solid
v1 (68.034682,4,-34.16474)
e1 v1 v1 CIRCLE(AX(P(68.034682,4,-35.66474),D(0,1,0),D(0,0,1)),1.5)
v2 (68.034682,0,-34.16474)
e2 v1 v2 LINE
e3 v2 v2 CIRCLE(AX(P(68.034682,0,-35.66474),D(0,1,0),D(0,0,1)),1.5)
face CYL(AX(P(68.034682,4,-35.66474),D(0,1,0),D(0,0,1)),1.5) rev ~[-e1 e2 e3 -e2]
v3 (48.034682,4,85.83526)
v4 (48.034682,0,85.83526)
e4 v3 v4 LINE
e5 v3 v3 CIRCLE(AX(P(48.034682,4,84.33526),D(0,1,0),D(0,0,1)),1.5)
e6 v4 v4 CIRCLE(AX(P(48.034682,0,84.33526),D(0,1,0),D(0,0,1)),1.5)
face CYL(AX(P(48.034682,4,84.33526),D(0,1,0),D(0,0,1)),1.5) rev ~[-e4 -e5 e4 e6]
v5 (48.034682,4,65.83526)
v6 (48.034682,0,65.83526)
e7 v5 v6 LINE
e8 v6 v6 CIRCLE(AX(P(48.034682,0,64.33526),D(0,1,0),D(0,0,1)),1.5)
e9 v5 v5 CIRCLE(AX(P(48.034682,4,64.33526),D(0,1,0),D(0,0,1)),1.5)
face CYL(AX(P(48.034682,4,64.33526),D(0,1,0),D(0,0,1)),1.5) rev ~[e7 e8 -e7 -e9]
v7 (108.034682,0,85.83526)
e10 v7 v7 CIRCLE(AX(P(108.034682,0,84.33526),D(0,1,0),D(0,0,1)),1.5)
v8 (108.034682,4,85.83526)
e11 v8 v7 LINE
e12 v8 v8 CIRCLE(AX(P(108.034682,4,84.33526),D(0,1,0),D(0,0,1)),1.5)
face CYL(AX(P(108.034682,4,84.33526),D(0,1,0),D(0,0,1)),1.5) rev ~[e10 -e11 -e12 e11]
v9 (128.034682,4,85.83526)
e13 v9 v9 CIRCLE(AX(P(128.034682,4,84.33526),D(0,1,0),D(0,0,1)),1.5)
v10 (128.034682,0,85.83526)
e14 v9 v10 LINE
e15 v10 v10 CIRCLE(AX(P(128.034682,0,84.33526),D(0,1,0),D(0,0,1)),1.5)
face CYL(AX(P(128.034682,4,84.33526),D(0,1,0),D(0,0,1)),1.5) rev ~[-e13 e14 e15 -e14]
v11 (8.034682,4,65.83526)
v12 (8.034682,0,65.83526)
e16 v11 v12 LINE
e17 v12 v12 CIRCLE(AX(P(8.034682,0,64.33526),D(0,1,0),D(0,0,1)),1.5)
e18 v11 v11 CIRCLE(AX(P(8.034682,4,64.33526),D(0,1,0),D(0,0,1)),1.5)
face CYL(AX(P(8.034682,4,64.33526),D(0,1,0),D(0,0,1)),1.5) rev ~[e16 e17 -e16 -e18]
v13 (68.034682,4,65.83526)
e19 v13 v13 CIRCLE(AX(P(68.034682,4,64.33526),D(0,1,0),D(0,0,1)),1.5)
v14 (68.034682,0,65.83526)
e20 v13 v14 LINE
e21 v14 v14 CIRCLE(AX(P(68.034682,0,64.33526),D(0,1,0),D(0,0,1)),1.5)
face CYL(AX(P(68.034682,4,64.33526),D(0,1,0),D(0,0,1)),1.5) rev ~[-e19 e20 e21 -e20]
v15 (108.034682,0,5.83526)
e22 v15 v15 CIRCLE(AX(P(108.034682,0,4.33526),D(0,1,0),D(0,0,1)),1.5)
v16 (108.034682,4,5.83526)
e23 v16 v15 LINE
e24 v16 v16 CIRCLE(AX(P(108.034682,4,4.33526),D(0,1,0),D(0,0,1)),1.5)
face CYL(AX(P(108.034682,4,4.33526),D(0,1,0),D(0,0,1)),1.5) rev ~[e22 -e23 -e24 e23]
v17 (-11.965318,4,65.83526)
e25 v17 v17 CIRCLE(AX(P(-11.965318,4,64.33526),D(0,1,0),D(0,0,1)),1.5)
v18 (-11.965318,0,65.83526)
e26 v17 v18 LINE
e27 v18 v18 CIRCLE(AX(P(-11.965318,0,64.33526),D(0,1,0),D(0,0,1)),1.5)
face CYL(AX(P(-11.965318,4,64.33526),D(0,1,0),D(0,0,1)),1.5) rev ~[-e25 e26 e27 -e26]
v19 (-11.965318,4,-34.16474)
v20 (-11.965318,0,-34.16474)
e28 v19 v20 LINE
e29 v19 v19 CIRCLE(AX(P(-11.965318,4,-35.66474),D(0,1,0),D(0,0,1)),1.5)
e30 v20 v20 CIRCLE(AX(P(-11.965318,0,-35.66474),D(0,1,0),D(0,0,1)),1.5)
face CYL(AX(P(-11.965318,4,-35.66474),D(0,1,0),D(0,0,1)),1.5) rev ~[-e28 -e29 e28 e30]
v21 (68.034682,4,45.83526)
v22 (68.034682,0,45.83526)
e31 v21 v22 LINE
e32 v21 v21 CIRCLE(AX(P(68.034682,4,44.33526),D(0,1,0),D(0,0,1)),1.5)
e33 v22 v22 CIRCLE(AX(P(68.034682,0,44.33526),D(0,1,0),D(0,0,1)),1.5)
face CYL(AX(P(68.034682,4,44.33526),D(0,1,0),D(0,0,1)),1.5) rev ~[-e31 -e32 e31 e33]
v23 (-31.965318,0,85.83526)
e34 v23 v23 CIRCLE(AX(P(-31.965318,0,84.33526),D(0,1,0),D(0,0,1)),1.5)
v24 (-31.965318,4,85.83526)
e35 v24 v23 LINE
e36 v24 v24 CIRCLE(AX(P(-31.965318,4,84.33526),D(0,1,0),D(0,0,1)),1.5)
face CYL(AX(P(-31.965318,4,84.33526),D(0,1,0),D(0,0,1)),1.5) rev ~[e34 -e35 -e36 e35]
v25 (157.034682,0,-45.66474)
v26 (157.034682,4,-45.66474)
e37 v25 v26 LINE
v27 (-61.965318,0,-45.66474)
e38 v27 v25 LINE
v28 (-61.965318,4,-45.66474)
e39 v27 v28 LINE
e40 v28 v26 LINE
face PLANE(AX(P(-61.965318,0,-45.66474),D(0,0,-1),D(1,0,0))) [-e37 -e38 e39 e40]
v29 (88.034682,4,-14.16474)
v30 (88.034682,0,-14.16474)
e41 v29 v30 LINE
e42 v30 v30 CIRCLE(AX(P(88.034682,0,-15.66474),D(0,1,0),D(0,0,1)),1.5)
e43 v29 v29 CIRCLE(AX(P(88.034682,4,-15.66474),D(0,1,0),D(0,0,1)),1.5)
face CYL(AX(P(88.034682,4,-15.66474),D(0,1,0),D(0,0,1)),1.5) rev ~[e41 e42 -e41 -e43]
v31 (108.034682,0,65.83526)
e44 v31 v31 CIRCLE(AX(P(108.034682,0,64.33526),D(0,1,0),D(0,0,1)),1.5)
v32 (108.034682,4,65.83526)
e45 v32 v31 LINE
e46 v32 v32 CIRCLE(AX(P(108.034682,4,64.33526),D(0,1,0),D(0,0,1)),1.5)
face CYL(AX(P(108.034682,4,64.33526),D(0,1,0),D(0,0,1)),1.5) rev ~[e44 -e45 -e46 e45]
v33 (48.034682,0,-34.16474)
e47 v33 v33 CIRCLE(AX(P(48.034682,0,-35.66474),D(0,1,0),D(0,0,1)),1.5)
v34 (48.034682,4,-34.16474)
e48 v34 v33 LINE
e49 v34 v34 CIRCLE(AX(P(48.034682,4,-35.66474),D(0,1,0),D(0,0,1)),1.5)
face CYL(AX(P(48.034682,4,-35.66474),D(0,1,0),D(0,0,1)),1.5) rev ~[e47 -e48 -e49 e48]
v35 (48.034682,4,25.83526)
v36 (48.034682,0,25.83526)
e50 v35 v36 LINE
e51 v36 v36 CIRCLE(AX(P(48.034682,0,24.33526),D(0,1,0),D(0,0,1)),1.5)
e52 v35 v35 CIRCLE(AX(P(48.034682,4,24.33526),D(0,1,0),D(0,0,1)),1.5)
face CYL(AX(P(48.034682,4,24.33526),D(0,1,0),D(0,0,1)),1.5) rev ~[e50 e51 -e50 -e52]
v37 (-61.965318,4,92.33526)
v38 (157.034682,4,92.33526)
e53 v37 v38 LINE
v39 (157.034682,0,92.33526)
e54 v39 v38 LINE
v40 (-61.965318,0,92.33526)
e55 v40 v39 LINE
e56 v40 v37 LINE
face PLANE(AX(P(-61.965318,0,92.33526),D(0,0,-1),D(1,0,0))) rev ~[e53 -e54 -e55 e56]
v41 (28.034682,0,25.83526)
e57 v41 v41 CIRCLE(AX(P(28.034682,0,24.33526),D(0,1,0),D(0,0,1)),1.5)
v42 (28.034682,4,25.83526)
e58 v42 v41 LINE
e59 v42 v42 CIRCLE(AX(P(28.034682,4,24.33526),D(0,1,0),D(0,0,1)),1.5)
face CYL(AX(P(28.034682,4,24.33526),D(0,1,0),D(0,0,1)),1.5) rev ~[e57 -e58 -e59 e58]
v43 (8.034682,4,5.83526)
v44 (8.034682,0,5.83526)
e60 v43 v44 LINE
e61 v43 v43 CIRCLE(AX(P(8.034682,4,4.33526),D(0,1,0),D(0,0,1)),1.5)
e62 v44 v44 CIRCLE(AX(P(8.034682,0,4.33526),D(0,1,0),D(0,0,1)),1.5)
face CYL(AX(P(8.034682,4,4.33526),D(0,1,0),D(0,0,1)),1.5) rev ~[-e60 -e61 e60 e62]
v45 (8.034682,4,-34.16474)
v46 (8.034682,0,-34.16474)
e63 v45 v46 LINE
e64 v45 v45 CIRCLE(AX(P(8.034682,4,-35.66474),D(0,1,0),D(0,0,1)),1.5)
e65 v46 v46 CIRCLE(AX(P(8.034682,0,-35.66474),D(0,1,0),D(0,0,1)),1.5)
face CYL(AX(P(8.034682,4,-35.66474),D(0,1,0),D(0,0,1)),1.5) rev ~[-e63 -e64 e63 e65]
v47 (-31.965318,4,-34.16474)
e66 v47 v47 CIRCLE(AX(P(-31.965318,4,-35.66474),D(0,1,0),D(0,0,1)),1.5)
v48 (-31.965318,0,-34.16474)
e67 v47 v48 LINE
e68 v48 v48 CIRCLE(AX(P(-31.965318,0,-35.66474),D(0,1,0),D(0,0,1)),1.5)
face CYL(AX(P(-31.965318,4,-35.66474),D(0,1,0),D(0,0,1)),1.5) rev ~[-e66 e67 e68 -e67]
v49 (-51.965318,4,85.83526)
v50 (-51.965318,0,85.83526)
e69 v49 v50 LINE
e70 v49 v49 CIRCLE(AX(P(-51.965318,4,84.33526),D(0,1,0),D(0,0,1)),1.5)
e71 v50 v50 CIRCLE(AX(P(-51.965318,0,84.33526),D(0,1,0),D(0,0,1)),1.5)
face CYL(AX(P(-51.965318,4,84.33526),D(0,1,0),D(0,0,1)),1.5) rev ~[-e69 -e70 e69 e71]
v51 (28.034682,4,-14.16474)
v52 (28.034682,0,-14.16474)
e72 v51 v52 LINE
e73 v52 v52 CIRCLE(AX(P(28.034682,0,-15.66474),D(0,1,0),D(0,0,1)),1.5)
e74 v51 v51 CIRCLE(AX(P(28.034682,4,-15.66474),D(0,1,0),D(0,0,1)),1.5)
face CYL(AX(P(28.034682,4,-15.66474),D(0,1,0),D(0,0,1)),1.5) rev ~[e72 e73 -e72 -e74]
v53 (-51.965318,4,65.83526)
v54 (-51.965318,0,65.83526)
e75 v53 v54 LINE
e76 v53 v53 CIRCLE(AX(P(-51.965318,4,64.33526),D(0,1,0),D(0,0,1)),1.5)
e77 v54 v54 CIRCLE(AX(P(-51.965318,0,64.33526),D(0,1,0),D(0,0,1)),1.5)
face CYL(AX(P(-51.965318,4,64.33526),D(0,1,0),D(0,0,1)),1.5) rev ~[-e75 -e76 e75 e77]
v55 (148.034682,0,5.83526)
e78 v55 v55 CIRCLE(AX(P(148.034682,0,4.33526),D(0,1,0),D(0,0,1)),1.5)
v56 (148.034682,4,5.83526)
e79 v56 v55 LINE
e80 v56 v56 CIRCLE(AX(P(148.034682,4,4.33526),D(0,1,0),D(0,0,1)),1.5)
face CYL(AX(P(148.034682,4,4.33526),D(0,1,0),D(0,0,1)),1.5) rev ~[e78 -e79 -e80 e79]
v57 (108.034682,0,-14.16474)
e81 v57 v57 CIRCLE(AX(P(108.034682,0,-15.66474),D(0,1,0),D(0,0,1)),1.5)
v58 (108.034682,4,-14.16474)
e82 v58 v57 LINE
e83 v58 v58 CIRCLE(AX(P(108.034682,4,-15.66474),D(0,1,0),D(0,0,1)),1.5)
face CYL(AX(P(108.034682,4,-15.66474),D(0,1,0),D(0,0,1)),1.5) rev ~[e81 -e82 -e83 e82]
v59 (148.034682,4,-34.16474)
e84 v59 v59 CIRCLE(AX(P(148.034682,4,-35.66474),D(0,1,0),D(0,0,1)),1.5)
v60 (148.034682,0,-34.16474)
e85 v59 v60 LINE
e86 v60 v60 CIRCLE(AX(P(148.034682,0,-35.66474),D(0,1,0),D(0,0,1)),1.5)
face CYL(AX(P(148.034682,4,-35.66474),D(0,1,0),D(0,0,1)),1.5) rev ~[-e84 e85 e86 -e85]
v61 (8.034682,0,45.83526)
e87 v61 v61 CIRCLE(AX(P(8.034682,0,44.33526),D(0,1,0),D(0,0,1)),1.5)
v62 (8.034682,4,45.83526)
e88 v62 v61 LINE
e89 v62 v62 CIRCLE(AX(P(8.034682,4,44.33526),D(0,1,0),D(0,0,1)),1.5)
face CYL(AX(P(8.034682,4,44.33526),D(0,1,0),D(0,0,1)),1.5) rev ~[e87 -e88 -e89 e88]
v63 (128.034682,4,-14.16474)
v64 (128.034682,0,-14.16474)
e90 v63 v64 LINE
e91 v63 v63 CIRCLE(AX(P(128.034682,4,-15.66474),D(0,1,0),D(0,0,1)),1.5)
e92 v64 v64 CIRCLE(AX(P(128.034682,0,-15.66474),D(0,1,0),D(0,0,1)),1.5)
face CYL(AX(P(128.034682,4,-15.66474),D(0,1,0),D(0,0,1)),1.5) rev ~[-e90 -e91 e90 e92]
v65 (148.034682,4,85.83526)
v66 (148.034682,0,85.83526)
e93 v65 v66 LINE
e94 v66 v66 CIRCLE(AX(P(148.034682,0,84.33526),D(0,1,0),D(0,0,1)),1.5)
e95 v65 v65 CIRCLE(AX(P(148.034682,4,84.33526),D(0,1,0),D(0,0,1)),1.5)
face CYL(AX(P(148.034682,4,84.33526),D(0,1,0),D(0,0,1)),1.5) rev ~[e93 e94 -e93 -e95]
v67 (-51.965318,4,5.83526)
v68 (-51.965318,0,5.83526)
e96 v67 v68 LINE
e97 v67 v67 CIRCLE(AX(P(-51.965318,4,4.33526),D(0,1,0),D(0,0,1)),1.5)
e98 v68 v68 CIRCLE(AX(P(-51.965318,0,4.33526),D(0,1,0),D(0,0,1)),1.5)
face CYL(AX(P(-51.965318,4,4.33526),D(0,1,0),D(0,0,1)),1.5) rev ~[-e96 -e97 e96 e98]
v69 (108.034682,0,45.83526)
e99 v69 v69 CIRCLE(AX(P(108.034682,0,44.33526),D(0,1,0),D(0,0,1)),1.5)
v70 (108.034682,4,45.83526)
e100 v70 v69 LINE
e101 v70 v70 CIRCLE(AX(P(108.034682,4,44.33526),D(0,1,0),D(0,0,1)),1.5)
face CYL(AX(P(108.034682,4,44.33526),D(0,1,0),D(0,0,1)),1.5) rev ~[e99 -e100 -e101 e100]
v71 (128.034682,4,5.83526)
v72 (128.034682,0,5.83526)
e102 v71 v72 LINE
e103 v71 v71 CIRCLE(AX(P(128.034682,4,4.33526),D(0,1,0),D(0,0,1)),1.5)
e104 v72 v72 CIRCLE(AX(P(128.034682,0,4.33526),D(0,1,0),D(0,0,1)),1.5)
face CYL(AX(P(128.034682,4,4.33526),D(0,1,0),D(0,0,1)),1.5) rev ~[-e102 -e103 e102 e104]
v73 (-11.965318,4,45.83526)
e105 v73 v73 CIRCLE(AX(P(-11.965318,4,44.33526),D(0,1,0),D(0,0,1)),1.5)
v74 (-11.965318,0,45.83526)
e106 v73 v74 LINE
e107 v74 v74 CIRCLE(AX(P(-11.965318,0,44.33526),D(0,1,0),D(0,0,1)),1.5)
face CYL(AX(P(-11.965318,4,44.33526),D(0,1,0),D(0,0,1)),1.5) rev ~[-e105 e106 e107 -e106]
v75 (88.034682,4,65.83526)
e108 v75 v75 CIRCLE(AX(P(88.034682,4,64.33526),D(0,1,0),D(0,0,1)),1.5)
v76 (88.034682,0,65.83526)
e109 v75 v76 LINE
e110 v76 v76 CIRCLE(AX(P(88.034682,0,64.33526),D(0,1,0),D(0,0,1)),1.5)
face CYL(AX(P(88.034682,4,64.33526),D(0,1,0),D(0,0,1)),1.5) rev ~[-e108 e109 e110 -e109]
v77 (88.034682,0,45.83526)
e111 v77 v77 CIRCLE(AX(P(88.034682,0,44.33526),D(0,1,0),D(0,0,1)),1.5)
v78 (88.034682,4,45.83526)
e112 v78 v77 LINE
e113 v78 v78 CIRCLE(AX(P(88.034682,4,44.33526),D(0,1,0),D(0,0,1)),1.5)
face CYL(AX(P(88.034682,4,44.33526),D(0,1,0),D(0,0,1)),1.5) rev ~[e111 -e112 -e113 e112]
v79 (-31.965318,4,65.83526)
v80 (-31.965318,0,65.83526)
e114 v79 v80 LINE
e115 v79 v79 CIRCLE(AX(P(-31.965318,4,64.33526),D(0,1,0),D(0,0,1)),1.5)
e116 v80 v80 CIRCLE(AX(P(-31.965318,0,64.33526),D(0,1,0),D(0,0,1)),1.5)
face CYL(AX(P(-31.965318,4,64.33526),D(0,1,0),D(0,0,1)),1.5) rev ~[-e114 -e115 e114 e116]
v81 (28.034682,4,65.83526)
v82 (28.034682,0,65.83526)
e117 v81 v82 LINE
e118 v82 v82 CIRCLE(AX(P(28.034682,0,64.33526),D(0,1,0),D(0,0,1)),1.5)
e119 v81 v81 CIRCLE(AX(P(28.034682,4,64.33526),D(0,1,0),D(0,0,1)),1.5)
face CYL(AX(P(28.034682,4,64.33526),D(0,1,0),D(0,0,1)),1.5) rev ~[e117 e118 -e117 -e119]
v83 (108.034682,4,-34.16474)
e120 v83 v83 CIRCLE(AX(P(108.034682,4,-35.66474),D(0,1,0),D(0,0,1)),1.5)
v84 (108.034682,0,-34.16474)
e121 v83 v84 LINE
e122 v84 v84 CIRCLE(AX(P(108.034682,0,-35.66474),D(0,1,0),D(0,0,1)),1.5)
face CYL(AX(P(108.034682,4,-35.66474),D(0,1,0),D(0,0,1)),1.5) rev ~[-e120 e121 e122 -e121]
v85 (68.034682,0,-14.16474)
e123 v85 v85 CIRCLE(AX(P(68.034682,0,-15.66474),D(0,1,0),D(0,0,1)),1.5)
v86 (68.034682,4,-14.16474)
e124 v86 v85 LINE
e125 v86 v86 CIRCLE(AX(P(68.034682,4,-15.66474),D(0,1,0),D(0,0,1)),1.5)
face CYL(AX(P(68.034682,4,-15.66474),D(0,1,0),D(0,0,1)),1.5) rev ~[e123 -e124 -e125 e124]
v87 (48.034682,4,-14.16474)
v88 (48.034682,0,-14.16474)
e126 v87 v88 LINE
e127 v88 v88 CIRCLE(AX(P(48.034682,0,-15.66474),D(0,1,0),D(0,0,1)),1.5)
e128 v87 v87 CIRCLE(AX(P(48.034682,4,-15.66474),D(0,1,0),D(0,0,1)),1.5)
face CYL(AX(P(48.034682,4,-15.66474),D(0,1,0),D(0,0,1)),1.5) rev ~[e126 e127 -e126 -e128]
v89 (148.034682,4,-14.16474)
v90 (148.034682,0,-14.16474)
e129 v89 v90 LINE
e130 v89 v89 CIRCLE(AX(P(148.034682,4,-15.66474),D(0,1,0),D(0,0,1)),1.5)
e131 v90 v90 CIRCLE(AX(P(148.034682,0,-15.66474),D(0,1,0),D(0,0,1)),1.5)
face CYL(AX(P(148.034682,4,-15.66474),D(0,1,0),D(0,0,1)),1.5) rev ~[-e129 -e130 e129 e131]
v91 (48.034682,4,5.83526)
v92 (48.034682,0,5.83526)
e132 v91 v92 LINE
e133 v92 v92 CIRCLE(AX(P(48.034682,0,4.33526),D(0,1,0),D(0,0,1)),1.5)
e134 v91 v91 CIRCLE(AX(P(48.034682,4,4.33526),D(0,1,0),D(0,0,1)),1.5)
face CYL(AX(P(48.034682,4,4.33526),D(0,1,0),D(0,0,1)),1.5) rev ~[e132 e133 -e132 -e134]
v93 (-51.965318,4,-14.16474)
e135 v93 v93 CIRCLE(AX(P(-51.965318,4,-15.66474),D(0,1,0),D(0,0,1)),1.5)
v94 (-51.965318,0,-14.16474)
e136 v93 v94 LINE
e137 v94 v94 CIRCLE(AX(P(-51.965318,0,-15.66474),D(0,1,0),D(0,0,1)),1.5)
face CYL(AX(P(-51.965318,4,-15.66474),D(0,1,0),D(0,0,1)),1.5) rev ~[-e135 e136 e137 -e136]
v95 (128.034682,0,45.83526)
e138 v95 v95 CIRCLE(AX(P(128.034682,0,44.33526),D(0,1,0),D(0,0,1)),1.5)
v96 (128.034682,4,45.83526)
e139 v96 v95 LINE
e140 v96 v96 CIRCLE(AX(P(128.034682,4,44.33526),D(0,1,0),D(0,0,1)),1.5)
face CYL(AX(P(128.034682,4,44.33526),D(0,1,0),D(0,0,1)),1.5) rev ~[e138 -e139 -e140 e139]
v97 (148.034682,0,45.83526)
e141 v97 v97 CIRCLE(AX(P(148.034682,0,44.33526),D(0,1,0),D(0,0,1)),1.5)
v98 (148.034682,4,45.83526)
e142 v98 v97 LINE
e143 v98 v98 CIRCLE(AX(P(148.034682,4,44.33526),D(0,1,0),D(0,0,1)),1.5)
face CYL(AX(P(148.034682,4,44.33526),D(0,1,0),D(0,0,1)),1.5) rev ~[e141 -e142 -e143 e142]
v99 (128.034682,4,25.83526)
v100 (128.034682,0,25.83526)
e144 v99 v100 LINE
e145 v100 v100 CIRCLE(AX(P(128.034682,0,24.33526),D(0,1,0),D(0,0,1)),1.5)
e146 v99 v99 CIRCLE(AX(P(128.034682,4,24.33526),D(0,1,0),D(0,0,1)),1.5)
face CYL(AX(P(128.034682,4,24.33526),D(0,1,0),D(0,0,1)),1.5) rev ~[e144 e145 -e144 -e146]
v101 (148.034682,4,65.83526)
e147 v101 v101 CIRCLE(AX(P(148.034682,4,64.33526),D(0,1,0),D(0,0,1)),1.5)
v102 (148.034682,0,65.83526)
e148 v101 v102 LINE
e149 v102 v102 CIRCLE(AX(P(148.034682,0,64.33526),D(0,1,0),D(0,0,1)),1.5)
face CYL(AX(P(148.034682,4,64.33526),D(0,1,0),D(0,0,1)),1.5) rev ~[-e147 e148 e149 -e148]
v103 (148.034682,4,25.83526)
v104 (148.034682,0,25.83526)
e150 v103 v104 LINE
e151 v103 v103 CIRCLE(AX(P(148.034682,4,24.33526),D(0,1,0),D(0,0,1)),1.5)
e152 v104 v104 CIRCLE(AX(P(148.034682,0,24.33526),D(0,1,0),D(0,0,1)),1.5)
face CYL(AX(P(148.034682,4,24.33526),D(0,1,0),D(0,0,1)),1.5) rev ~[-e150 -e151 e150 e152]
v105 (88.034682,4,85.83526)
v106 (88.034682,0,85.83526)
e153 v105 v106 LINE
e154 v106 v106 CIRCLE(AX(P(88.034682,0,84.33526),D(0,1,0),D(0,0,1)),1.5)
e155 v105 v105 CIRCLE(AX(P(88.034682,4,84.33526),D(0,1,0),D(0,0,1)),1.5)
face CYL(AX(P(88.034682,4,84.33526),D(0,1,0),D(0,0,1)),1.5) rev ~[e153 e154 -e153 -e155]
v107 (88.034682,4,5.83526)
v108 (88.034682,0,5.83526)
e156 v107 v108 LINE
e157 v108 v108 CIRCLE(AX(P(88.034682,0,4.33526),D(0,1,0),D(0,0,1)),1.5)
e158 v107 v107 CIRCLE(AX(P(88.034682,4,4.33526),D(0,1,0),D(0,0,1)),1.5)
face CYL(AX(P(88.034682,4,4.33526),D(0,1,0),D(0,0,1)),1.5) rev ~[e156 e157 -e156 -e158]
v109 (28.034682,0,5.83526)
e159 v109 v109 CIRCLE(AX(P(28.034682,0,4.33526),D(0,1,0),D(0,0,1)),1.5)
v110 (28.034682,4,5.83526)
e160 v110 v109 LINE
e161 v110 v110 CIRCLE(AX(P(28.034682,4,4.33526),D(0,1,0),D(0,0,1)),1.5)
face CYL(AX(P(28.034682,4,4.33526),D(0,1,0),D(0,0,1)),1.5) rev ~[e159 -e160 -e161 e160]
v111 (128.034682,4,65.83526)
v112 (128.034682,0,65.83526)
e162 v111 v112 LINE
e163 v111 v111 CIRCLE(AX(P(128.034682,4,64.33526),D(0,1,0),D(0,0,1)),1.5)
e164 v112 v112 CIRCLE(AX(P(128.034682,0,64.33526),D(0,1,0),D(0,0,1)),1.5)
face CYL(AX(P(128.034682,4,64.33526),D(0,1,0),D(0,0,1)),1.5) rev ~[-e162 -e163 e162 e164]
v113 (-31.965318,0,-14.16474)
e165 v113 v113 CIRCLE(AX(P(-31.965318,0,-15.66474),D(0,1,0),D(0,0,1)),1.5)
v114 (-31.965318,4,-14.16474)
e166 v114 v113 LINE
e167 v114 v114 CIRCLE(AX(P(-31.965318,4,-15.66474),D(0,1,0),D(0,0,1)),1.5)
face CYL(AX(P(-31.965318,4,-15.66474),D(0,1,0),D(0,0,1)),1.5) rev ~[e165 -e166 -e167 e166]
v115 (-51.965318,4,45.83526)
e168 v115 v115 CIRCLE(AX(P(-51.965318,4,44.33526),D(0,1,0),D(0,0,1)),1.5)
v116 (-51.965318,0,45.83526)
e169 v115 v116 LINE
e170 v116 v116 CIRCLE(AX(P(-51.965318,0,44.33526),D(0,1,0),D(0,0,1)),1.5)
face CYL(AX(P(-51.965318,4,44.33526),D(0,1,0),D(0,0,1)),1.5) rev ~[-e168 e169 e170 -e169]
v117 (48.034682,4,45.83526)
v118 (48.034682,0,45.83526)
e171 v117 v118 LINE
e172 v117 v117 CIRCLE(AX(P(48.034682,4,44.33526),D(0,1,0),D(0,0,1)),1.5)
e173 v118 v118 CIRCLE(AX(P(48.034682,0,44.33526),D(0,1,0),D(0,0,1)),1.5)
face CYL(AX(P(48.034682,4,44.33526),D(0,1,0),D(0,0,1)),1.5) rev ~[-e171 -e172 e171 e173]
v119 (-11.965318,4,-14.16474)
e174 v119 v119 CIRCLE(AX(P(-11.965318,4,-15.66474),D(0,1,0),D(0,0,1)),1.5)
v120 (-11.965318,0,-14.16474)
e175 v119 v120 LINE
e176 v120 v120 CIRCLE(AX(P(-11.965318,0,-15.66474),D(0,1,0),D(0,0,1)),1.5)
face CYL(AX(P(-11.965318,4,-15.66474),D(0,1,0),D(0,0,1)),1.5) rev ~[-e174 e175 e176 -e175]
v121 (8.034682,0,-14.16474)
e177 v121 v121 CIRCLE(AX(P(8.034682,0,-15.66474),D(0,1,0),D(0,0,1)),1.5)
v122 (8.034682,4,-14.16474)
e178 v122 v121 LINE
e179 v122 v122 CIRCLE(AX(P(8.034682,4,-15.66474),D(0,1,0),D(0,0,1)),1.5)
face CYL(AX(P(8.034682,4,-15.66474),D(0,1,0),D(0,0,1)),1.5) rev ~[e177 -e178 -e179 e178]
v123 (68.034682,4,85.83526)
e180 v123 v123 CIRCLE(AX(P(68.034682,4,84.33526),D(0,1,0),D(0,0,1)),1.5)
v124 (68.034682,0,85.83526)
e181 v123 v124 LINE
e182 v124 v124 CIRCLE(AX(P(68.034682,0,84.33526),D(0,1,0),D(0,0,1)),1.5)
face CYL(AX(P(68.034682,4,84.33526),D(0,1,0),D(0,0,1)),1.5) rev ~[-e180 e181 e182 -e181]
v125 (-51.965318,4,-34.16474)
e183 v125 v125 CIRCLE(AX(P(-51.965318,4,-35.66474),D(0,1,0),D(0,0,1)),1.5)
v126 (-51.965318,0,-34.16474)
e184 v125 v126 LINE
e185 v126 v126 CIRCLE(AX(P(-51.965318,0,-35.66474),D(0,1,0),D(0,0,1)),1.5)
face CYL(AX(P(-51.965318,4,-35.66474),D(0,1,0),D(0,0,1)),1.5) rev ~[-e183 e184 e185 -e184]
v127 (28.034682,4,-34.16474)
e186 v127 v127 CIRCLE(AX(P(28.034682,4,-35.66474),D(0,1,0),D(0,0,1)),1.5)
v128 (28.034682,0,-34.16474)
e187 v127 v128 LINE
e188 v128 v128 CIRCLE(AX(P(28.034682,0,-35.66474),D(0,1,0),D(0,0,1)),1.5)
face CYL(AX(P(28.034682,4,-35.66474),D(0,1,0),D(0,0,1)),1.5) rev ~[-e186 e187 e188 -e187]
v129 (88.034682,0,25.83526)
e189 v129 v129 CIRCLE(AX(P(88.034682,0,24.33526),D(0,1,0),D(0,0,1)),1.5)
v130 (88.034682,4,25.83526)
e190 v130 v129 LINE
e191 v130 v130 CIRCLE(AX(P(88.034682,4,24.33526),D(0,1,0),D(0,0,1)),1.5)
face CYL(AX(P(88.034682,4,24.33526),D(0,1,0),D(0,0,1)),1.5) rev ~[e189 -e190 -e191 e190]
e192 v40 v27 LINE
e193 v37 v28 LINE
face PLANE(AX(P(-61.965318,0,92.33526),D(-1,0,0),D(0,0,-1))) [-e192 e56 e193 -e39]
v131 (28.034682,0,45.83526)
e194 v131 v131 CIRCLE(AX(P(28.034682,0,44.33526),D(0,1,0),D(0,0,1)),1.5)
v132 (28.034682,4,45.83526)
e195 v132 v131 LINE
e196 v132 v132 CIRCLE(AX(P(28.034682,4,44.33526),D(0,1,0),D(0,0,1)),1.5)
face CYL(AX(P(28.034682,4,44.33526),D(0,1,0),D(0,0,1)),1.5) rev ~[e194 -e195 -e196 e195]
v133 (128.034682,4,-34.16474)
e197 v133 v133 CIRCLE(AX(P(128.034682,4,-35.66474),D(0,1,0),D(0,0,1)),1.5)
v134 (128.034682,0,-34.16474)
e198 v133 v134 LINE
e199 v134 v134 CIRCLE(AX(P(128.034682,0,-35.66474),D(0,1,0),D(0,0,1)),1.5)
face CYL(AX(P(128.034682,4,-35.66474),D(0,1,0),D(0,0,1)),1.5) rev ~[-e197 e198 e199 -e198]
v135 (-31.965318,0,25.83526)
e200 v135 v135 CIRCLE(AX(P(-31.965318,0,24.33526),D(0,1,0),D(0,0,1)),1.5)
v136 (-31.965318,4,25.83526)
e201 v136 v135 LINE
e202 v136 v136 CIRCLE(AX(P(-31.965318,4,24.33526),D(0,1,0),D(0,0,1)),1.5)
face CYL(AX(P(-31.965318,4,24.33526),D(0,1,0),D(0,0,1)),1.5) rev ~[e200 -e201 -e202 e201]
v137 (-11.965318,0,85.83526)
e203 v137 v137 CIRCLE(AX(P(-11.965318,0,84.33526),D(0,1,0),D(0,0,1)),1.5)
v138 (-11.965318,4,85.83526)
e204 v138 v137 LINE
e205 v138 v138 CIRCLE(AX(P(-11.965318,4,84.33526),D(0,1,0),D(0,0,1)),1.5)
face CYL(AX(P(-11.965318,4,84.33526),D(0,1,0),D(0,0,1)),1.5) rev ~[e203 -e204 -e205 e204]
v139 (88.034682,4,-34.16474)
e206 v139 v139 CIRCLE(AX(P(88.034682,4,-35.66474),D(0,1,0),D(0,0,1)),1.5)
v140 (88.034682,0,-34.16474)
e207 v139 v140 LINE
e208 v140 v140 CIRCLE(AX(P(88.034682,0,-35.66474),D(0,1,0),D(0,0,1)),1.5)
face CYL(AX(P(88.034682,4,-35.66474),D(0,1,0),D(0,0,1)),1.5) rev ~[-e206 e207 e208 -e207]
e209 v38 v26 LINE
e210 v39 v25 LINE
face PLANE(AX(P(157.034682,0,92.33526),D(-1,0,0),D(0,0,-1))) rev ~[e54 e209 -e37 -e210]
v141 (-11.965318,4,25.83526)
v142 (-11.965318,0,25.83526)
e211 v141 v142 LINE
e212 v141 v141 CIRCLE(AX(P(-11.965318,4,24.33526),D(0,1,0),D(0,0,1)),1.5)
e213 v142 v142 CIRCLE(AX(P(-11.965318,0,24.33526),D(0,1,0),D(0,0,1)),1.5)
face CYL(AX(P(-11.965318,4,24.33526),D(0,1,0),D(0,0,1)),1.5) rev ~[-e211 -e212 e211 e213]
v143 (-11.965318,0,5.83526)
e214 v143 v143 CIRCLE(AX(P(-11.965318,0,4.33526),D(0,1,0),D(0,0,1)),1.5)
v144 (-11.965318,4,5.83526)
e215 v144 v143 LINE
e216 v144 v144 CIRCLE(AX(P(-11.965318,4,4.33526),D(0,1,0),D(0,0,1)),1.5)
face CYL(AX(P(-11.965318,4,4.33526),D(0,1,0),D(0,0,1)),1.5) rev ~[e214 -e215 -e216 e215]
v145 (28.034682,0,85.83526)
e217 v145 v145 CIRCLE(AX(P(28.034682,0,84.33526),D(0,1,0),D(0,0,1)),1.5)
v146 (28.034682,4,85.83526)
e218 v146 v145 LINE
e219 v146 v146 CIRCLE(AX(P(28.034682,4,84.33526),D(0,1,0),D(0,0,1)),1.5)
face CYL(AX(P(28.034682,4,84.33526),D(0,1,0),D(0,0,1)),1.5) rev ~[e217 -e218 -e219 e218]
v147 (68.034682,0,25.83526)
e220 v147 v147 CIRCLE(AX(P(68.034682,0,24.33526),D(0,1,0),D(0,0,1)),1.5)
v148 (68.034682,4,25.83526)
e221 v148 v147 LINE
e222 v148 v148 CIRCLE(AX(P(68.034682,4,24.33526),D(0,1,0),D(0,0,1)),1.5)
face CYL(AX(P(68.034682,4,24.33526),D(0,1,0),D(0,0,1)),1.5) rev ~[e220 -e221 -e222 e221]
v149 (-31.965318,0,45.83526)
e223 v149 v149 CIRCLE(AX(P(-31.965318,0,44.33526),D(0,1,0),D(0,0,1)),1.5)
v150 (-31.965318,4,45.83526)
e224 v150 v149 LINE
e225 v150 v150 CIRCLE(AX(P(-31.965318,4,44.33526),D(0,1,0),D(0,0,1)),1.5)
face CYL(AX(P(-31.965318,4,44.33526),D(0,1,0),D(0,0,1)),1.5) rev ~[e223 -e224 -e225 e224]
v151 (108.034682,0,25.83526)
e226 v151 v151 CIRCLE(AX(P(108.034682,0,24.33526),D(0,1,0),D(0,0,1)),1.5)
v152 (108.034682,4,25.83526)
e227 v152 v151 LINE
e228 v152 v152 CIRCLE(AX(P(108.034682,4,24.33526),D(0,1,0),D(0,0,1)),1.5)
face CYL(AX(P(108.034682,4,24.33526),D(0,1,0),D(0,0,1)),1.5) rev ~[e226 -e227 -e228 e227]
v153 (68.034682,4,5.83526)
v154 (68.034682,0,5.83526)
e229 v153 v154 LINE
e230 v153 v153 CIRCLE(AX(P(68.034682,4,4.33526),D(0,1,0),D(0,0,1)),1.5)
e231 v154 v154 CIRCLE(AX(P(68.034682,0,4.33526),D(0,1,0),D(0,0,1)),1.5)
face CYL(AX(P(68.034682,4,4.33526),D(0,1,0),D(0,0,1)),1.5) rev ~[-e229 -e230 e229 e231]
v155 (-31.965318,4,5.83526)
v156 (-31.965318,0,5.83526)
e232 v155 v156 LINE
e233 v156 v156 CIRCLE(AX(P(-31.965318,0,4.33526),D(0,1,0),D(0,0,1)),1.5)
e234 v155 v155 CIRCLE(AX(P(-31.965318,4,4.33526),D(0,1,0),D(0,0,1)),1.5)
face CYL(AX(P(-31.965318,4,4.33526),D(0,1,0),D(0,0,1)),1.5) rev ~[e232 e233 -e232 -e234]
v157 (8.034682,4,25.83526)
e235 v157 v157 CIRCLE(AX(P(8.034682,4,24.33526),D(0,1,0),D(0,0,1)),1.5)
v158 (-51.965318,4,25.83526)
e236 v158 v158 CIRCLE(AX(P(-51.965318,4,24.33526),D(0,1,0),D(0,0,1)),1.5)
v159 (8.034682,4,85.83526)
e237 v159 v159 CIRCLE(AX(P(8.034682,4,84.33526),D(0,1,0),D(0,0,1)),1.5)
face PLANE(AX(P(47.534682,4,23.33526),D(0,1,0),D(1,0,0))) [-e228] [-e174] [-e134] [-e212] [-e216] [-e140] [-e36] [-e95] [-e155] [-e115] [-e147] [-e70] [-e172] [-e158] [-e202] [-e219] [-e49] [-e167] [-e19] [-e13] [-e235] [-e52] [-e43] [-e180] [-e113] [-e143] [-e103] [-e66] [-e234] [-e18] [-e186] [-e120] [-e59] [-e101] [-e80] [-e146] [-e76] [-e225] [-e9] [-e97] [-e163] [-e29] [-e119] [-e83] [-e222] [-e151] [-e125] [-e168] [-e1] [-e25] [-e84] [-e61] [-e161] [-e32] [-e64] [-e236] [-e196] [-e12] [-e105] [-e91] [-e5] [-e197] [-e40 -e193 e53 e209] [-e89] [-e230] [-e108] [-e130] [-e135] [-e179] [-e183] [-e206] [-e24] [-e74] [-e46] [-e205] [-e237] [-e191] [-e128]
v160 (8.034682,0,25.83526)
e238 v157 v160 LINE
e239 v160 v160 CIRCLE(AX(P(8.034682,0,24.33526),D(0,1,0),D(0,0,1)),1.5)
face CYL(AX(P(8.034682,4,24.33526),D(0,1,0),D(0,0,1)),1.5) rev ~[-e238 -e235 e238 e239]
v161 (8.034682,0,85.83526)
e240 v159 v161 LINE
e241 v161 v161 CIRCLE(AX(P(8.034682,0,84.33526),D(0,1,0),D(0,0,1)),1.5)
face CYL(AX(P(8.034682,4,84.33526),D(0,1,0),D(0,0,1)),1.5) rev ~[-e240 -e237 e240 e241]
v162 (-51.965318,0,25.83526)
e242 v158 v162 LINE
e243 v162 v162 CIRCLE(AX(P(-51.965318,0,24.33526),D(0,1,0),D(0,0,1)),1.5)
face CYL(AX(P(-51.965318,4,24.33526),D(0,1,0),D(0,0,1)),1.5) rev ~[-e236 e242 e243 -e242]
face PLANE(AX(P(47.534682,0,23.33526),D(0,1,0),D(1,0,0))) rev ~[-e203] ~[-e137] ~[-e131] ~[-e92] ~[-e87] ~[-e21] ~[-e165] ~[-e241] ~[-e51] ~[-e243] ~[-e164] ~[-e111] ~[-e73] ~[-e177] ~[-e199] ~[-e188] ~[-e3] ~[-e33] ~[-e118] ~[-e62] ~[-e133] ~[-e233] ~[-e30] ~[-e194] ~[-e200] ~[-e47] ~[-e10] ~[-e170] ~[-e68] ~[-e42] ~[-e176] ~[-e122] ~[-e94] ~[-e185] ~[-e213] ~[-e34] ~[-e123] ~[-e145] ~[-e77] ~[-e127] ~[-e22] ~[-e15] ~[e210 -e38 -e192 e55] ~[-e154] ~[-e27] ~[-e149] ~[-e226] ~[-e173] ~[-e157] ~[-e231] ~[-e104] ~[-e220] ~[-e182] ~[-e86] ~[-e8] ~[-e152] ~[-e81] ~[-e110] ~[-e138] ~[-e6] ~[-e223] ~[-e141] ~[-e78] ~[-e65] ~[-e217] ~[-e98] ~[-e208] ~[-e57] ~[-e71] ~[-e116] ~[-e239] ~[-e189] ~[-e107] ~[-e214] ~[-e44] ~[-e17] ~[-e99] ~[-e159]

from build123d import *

# Parameters (mm, degrees)
SKETCH1_W           = 219
SKETCH1_H           = 138
BOSS_EXTRUDE1_DEPTH = 4
SKETCH2_R           = 1.5
CUT_EXTRUDE1_DEPTH  = 5


with BuildPart() as part:
    # Sketch1 → Boss-Extrude1 (new body)
    with BuildSketch(Plane(origin=(0, 0, 0), x_dir=(1, 0, 0), z_dir=(0, 1, 0))):
        with Locations((47.534682081, -23.335260116)):
            Rectangle(SKETCH1_W, SKETCH1_H)
    extrude(amount=BOSS_EXTRUDE1_DEPTH)

    # Sketch2 → Cut-Extrude1 (cut)
    with BuildSketch(Plane(origin=(0, 4, 0), x_dir=(1, 0, 0), z_dir=(0, 1, 0))):
        with Locations(Location((-51.965317919, 35.664739884, 0), (0, 0, 270))):
            Circle(SKETCH2_R)
        with Locations(Location((-31.965317919, 35.664739884, 0), (0, 0, 270))):
            Circle(SKETCH2_R)
        with Locations(Location((-11.965317919, 35.664739884, 0), (0, 0, 270))):
            Circle(SKETCH2_R)
        with Locations(Location((8.034682081, 35.664739884, 0), (0, 0, 270))):
            Circle(SKETCH2_R)
        with Locations(Location((28.034682081, 35.664739884, 0), (0, 0, 270))):
            Circle(SKETCH2_R)
        with Locations(Location((48.034682081, 35.664739884, 0), (0, 0, 270))):
            Circle(SKETCH2_R)
        with Locations(Location((68.034682081, 35.664739884, 0), (0, 0, 270))):
            Circle(SKETCH2_R)
        with Locations(Location((88.034682081, 35.664739884, 0), (0, 0, 270))):
            Circle(SKETCH2_R)
        with Locations(Location((108.034682081, 35.664739884, 0), (0, 0, 270))):
            Circle(SKETCH2_R)
        with Locations(Location((128.034682081, 35.664739884, 0), (0, 0, 270))):
            Circle(SKETCH2_R)
        with Locations(Location((148.034682081, 35.664739884, 0), (0, 0, 270))):
            Circle(SKETCH2_R)
        with Locations(Location((-31.965317919, 15.664739884, 0), (0, 0, 270))):
            Circle(SKETCH2_R)
        with Locations(Location((-11.965317919, 15.664739884, 0), (0, 0, 270))):
            Circle(SKETCH2_R)
        with Locations(Location((8.034682081, 15.664739884, 0), (0, 0, 270))):
            Circle(SKETCH2_R)
        with Locations(Location((28.034682081, 15.664739884, 0), (0, 0, 270))):
            Circle(SKETCH2_R)
        with Locations(Location((48.034682081, 15.664739884, 0), (0, 0, 270))):
            Circle(SKETCH2_R)
        with Locations(Location((68.034682081, 15.664739884, 0), (0, 0, 270))):
            Circle(SKETCH2_R)
        with Locations(Location((88.034682081, 15.664739884, 0), (0, 0, 270))):
            Circle(SKETCH2_R)
        with Locations(Location((108.034682081, 15.664739884, 0), (0, 0, 270))):
            Circle(SKETCH2_R)
        with Locations(Location((128.034682081, 15.664739884, 0), (0, 0, 270))):
            Circle(SKETCH2_R)
        with Locations(Location((148.034682081, 15.664739884, 0), (0, 0, 270))):
            Circle(SKETCH2_R)
        with Locations(Location((-31.965317919, -4.335260116, 0), (0, 0, 270))):
            Circle(SKETCH2_R)
        with Locations(Location((-11.965317919, -4.335260116, 0), (0, 0, 270))):
            Circle(SKETCH2_R)
        with Locations(Location((8.034682081, -4.335260116, 0), (0, 0, 270))):
            Circle(SKETCH2_R)
        with Locations(Location((28.034682081, -4.335260116, 0), (0, 0, 270))):
            Circle(SKETCH2_R)
        with Locations(Location((48.034682081, -4.335260116, 0), (0, 0, 270))):
            Circle(SKETCH2_R)
        with Locations(Location((68.034682081, -4.335260116, 0), (0, 0, 270))):
            Circle(SKETCH2_R)
        with Locations(Location((88.034682081, -4.335260116, 0), (0, 0, 270))):
            Circle(SKETCH2_R)
        with Locations(Location((108.034682081, -4.335260116, 0), (0, 0, 270))):
            Circle(SKETCH2_R)
        with Locations(Location((128.034682081, -4.335260116, 0), (0, 0, 270))):
            Circle(SKETCH2_R)
        with Locations(Location((148.034682081, -4.335260116, 0), (0, 0, 270))):
            Circle(SKETCH2_R)
        with Locations(Location((-31.965317919, -24.335260116, 0), (0, 0, 270))):
            Circle(SKETCH2_R)
        with Locations(Location((-11.965317919, -24.335260116, 0), (0, 0, 270))):
            Circle(SKETCH2_R)
        with Locations(Location((8.034682081, -24.335260116, 0), (0, 0, 270))):
            Circle(SKETCH2_R)
        with Locations(Location((28.034682081, -24.335260116, 0), (0, 0, 270))):
            Circle(SKETCH2_R)
        with Locations(Location((48.034682081, -24.335260116, 0), (0, 0, 270))):
            Circle(SKETCH2_R)
        with Locations(Location((68.034682081, -24.335260116, 0), (0, 0, 270))):
            Circle(SKETCH2_R)
        with Locations(Location((88.034682081, -24.335260116, 0), (0, 0, 270))):
            Circle(SKETCH2_R)
        with Locations(Location((108.034682081, -24.335260116, 0), (0, 0, 270))):
            Circle(SKETCH2_R)
        with Locations(Location((128.034682081, -24.335260116, 0), (0, 0, 270))):
            Circle(SKETCH2_R)
        with Locations(Location((148.034682081, -24.335260116, 0), (0, 0, 270))):
            Circle(SKETCH2_R)
        with Locations(Location((-31.965317919, -44.335260116, 0), (0, 0, 270))):
            Circle(SKETCH2_R)
        with Locations(Location((-11.965317919, -44.335260116, 0), (0, 0, 270))):
            Circle(SKETCH2_R)
        with Locations(Location((8.034682081, -44.335260116, 0), (0, 0, 270))):
            Circle(SKETCH2_R)
        with Locations(Location((28.034682081, -44.335260116, 0), (0, 0, 270))):
            Circle(SKETCH2_R)
        with Locations(Location((48.034682081, -44.335260116, 0), (0, 0, 270))):
            Circle(SKETCH2_R)
        with Locations(Location((68.034682081, -44.335260116, 0), (0, 0, 270))):
            Circle(SKETCH2_R)
        with Locations(Location((88.034682081, -44.335260116, 0), (0, 0, 270))):
            Circle(SKETCH2_R)
        with Locations(Location((108.034682081, -44.335260116, 0), (0, 0, 270))):
            Circle(SKETCH2_R)
        with Locations(Location((128.034682081, -44.335260116, 0), (0, 0, 270))):
            Circle(SKETCH2_R)
        with Locations(Location((148.034682081, -44.335260116, 0), (0, 0, 270))):
            Circle(SKETCH2_R)
        with Locations(Location((-31.965317919, -64.335260116, 0), (0, 0, 270))):
            Circle(SKETCH2_R)
        with Locations(Location((-11.965317919, -64.335260116, 0), (0, 0, 270))):
            Circle(SKETCH2_R)
        with Locations(Location((8.034682081, -64.335260116, 0), (0, 0, 270))):
            Circle(SKETCH2_R)
        with Locations(Location((28.034682081, -64.335260116, 0), (0, 0, 270))):
            Circle(SKETCH2_R)
        with Locations(Location((48.034682081, -64.335260116, 0), (0, 0, 270))):
            Circle(SKETCH2_R)
        with Locations(Location((68.034682081, -64.335260116, 0), (0, 0, 270))):
            Circle(SKETCH2_R)
        with Locations(Location((88.034682081, -64.335260116, 0), (0, 0, 270))):
            Circle(SKETCH2_R)
        with Locations(Location((108.034682081, -64.335260116, 0), (0, 0, 270))):
            Circle(SKETCH2_R)
        with Locations(Location((128.034682081, -64.335260116, 0), (0, 0, 270))):
            Circle(SKETCH2_R)
        with Locations(Location((148.034682081, -64.335260116, 0), (0, 0, 270))):
            Circle(SKETCH2_R)
        with Locations(Location((-31.965317919, -84.335260116, 0), (0, 0, 270))):
            Circle(SKETCH2_R)
        with Locations(Location((-11.965317919, -84.335260116, 0), (0, 0, 270))):
            Circle(SKETCH2_R)
        with Locations(Location((8.034682081, -84.335260116, 0), (0, 0, 270))):
            Circle(SKETCH2_R)
        with Locations(Location((28.034682081, -84.335260116, 0), (0, 0, 270))):
            Circle(SKETCH2_R)
        with Locations(Location((48.034682081, -84.335260116, 0), (0, 0, 270))):
            Circle(SKETCH2_R)
        with Locations(Location((68.034682081, -84.335260116, 0), (0, 0, 270))):
            Circle(SKETCH2_R)
        with Locations(Location((88.034682081, -84.335260116, 0), (0, 0, 270))):
            Circle(SKETCH2_R)
        with Locations(Location((108.034682081, -84.335260116, 0), (0, 0, 270))):
            Circle(SKETCH2_R)
        with Locations(Location((128.034682081, -84.335260116, 0), (0, 0, 270))):
            Circle(SKETCH2_R)
        with Locations(Location((148.034682081, -84.335260116, 0), (0, 0, 270))):
            Circle(SKETCH2_R)
        with Locations(Location((-51.965317919, 15.664739884, 0), (0, 0, 270))):
            Circle(SKETCH2_R)
        with Locations(Location((-51.965317919, -4.335260116, 0), (0, 0, 270))):
            Circle(SKETCH2_R)
        with Locations(Location((-51.965317919, -24.335260116, 0), (0, 0, 270))):
            Circle(SKETCH2_R)
        with Locations(Location((-51.965317919, -44.335260116, 0), (0, 0, 270))):
            Circle(SKETCH2_R)
        with Locations(Location((-51.965317919, -64.335260116, 0), (0, 0, 270))):
            Circle(SKETCH2_R)
        with Locations(Location((-51.965317919, -84.335260116, 0), (0, 0, 270))):
            Circle(SKETCH2_R)
    extrude(amount=-CUT_EXTRUDE1_DEPTH, mode=Mode.SUBTRACT)


solid = part.part
